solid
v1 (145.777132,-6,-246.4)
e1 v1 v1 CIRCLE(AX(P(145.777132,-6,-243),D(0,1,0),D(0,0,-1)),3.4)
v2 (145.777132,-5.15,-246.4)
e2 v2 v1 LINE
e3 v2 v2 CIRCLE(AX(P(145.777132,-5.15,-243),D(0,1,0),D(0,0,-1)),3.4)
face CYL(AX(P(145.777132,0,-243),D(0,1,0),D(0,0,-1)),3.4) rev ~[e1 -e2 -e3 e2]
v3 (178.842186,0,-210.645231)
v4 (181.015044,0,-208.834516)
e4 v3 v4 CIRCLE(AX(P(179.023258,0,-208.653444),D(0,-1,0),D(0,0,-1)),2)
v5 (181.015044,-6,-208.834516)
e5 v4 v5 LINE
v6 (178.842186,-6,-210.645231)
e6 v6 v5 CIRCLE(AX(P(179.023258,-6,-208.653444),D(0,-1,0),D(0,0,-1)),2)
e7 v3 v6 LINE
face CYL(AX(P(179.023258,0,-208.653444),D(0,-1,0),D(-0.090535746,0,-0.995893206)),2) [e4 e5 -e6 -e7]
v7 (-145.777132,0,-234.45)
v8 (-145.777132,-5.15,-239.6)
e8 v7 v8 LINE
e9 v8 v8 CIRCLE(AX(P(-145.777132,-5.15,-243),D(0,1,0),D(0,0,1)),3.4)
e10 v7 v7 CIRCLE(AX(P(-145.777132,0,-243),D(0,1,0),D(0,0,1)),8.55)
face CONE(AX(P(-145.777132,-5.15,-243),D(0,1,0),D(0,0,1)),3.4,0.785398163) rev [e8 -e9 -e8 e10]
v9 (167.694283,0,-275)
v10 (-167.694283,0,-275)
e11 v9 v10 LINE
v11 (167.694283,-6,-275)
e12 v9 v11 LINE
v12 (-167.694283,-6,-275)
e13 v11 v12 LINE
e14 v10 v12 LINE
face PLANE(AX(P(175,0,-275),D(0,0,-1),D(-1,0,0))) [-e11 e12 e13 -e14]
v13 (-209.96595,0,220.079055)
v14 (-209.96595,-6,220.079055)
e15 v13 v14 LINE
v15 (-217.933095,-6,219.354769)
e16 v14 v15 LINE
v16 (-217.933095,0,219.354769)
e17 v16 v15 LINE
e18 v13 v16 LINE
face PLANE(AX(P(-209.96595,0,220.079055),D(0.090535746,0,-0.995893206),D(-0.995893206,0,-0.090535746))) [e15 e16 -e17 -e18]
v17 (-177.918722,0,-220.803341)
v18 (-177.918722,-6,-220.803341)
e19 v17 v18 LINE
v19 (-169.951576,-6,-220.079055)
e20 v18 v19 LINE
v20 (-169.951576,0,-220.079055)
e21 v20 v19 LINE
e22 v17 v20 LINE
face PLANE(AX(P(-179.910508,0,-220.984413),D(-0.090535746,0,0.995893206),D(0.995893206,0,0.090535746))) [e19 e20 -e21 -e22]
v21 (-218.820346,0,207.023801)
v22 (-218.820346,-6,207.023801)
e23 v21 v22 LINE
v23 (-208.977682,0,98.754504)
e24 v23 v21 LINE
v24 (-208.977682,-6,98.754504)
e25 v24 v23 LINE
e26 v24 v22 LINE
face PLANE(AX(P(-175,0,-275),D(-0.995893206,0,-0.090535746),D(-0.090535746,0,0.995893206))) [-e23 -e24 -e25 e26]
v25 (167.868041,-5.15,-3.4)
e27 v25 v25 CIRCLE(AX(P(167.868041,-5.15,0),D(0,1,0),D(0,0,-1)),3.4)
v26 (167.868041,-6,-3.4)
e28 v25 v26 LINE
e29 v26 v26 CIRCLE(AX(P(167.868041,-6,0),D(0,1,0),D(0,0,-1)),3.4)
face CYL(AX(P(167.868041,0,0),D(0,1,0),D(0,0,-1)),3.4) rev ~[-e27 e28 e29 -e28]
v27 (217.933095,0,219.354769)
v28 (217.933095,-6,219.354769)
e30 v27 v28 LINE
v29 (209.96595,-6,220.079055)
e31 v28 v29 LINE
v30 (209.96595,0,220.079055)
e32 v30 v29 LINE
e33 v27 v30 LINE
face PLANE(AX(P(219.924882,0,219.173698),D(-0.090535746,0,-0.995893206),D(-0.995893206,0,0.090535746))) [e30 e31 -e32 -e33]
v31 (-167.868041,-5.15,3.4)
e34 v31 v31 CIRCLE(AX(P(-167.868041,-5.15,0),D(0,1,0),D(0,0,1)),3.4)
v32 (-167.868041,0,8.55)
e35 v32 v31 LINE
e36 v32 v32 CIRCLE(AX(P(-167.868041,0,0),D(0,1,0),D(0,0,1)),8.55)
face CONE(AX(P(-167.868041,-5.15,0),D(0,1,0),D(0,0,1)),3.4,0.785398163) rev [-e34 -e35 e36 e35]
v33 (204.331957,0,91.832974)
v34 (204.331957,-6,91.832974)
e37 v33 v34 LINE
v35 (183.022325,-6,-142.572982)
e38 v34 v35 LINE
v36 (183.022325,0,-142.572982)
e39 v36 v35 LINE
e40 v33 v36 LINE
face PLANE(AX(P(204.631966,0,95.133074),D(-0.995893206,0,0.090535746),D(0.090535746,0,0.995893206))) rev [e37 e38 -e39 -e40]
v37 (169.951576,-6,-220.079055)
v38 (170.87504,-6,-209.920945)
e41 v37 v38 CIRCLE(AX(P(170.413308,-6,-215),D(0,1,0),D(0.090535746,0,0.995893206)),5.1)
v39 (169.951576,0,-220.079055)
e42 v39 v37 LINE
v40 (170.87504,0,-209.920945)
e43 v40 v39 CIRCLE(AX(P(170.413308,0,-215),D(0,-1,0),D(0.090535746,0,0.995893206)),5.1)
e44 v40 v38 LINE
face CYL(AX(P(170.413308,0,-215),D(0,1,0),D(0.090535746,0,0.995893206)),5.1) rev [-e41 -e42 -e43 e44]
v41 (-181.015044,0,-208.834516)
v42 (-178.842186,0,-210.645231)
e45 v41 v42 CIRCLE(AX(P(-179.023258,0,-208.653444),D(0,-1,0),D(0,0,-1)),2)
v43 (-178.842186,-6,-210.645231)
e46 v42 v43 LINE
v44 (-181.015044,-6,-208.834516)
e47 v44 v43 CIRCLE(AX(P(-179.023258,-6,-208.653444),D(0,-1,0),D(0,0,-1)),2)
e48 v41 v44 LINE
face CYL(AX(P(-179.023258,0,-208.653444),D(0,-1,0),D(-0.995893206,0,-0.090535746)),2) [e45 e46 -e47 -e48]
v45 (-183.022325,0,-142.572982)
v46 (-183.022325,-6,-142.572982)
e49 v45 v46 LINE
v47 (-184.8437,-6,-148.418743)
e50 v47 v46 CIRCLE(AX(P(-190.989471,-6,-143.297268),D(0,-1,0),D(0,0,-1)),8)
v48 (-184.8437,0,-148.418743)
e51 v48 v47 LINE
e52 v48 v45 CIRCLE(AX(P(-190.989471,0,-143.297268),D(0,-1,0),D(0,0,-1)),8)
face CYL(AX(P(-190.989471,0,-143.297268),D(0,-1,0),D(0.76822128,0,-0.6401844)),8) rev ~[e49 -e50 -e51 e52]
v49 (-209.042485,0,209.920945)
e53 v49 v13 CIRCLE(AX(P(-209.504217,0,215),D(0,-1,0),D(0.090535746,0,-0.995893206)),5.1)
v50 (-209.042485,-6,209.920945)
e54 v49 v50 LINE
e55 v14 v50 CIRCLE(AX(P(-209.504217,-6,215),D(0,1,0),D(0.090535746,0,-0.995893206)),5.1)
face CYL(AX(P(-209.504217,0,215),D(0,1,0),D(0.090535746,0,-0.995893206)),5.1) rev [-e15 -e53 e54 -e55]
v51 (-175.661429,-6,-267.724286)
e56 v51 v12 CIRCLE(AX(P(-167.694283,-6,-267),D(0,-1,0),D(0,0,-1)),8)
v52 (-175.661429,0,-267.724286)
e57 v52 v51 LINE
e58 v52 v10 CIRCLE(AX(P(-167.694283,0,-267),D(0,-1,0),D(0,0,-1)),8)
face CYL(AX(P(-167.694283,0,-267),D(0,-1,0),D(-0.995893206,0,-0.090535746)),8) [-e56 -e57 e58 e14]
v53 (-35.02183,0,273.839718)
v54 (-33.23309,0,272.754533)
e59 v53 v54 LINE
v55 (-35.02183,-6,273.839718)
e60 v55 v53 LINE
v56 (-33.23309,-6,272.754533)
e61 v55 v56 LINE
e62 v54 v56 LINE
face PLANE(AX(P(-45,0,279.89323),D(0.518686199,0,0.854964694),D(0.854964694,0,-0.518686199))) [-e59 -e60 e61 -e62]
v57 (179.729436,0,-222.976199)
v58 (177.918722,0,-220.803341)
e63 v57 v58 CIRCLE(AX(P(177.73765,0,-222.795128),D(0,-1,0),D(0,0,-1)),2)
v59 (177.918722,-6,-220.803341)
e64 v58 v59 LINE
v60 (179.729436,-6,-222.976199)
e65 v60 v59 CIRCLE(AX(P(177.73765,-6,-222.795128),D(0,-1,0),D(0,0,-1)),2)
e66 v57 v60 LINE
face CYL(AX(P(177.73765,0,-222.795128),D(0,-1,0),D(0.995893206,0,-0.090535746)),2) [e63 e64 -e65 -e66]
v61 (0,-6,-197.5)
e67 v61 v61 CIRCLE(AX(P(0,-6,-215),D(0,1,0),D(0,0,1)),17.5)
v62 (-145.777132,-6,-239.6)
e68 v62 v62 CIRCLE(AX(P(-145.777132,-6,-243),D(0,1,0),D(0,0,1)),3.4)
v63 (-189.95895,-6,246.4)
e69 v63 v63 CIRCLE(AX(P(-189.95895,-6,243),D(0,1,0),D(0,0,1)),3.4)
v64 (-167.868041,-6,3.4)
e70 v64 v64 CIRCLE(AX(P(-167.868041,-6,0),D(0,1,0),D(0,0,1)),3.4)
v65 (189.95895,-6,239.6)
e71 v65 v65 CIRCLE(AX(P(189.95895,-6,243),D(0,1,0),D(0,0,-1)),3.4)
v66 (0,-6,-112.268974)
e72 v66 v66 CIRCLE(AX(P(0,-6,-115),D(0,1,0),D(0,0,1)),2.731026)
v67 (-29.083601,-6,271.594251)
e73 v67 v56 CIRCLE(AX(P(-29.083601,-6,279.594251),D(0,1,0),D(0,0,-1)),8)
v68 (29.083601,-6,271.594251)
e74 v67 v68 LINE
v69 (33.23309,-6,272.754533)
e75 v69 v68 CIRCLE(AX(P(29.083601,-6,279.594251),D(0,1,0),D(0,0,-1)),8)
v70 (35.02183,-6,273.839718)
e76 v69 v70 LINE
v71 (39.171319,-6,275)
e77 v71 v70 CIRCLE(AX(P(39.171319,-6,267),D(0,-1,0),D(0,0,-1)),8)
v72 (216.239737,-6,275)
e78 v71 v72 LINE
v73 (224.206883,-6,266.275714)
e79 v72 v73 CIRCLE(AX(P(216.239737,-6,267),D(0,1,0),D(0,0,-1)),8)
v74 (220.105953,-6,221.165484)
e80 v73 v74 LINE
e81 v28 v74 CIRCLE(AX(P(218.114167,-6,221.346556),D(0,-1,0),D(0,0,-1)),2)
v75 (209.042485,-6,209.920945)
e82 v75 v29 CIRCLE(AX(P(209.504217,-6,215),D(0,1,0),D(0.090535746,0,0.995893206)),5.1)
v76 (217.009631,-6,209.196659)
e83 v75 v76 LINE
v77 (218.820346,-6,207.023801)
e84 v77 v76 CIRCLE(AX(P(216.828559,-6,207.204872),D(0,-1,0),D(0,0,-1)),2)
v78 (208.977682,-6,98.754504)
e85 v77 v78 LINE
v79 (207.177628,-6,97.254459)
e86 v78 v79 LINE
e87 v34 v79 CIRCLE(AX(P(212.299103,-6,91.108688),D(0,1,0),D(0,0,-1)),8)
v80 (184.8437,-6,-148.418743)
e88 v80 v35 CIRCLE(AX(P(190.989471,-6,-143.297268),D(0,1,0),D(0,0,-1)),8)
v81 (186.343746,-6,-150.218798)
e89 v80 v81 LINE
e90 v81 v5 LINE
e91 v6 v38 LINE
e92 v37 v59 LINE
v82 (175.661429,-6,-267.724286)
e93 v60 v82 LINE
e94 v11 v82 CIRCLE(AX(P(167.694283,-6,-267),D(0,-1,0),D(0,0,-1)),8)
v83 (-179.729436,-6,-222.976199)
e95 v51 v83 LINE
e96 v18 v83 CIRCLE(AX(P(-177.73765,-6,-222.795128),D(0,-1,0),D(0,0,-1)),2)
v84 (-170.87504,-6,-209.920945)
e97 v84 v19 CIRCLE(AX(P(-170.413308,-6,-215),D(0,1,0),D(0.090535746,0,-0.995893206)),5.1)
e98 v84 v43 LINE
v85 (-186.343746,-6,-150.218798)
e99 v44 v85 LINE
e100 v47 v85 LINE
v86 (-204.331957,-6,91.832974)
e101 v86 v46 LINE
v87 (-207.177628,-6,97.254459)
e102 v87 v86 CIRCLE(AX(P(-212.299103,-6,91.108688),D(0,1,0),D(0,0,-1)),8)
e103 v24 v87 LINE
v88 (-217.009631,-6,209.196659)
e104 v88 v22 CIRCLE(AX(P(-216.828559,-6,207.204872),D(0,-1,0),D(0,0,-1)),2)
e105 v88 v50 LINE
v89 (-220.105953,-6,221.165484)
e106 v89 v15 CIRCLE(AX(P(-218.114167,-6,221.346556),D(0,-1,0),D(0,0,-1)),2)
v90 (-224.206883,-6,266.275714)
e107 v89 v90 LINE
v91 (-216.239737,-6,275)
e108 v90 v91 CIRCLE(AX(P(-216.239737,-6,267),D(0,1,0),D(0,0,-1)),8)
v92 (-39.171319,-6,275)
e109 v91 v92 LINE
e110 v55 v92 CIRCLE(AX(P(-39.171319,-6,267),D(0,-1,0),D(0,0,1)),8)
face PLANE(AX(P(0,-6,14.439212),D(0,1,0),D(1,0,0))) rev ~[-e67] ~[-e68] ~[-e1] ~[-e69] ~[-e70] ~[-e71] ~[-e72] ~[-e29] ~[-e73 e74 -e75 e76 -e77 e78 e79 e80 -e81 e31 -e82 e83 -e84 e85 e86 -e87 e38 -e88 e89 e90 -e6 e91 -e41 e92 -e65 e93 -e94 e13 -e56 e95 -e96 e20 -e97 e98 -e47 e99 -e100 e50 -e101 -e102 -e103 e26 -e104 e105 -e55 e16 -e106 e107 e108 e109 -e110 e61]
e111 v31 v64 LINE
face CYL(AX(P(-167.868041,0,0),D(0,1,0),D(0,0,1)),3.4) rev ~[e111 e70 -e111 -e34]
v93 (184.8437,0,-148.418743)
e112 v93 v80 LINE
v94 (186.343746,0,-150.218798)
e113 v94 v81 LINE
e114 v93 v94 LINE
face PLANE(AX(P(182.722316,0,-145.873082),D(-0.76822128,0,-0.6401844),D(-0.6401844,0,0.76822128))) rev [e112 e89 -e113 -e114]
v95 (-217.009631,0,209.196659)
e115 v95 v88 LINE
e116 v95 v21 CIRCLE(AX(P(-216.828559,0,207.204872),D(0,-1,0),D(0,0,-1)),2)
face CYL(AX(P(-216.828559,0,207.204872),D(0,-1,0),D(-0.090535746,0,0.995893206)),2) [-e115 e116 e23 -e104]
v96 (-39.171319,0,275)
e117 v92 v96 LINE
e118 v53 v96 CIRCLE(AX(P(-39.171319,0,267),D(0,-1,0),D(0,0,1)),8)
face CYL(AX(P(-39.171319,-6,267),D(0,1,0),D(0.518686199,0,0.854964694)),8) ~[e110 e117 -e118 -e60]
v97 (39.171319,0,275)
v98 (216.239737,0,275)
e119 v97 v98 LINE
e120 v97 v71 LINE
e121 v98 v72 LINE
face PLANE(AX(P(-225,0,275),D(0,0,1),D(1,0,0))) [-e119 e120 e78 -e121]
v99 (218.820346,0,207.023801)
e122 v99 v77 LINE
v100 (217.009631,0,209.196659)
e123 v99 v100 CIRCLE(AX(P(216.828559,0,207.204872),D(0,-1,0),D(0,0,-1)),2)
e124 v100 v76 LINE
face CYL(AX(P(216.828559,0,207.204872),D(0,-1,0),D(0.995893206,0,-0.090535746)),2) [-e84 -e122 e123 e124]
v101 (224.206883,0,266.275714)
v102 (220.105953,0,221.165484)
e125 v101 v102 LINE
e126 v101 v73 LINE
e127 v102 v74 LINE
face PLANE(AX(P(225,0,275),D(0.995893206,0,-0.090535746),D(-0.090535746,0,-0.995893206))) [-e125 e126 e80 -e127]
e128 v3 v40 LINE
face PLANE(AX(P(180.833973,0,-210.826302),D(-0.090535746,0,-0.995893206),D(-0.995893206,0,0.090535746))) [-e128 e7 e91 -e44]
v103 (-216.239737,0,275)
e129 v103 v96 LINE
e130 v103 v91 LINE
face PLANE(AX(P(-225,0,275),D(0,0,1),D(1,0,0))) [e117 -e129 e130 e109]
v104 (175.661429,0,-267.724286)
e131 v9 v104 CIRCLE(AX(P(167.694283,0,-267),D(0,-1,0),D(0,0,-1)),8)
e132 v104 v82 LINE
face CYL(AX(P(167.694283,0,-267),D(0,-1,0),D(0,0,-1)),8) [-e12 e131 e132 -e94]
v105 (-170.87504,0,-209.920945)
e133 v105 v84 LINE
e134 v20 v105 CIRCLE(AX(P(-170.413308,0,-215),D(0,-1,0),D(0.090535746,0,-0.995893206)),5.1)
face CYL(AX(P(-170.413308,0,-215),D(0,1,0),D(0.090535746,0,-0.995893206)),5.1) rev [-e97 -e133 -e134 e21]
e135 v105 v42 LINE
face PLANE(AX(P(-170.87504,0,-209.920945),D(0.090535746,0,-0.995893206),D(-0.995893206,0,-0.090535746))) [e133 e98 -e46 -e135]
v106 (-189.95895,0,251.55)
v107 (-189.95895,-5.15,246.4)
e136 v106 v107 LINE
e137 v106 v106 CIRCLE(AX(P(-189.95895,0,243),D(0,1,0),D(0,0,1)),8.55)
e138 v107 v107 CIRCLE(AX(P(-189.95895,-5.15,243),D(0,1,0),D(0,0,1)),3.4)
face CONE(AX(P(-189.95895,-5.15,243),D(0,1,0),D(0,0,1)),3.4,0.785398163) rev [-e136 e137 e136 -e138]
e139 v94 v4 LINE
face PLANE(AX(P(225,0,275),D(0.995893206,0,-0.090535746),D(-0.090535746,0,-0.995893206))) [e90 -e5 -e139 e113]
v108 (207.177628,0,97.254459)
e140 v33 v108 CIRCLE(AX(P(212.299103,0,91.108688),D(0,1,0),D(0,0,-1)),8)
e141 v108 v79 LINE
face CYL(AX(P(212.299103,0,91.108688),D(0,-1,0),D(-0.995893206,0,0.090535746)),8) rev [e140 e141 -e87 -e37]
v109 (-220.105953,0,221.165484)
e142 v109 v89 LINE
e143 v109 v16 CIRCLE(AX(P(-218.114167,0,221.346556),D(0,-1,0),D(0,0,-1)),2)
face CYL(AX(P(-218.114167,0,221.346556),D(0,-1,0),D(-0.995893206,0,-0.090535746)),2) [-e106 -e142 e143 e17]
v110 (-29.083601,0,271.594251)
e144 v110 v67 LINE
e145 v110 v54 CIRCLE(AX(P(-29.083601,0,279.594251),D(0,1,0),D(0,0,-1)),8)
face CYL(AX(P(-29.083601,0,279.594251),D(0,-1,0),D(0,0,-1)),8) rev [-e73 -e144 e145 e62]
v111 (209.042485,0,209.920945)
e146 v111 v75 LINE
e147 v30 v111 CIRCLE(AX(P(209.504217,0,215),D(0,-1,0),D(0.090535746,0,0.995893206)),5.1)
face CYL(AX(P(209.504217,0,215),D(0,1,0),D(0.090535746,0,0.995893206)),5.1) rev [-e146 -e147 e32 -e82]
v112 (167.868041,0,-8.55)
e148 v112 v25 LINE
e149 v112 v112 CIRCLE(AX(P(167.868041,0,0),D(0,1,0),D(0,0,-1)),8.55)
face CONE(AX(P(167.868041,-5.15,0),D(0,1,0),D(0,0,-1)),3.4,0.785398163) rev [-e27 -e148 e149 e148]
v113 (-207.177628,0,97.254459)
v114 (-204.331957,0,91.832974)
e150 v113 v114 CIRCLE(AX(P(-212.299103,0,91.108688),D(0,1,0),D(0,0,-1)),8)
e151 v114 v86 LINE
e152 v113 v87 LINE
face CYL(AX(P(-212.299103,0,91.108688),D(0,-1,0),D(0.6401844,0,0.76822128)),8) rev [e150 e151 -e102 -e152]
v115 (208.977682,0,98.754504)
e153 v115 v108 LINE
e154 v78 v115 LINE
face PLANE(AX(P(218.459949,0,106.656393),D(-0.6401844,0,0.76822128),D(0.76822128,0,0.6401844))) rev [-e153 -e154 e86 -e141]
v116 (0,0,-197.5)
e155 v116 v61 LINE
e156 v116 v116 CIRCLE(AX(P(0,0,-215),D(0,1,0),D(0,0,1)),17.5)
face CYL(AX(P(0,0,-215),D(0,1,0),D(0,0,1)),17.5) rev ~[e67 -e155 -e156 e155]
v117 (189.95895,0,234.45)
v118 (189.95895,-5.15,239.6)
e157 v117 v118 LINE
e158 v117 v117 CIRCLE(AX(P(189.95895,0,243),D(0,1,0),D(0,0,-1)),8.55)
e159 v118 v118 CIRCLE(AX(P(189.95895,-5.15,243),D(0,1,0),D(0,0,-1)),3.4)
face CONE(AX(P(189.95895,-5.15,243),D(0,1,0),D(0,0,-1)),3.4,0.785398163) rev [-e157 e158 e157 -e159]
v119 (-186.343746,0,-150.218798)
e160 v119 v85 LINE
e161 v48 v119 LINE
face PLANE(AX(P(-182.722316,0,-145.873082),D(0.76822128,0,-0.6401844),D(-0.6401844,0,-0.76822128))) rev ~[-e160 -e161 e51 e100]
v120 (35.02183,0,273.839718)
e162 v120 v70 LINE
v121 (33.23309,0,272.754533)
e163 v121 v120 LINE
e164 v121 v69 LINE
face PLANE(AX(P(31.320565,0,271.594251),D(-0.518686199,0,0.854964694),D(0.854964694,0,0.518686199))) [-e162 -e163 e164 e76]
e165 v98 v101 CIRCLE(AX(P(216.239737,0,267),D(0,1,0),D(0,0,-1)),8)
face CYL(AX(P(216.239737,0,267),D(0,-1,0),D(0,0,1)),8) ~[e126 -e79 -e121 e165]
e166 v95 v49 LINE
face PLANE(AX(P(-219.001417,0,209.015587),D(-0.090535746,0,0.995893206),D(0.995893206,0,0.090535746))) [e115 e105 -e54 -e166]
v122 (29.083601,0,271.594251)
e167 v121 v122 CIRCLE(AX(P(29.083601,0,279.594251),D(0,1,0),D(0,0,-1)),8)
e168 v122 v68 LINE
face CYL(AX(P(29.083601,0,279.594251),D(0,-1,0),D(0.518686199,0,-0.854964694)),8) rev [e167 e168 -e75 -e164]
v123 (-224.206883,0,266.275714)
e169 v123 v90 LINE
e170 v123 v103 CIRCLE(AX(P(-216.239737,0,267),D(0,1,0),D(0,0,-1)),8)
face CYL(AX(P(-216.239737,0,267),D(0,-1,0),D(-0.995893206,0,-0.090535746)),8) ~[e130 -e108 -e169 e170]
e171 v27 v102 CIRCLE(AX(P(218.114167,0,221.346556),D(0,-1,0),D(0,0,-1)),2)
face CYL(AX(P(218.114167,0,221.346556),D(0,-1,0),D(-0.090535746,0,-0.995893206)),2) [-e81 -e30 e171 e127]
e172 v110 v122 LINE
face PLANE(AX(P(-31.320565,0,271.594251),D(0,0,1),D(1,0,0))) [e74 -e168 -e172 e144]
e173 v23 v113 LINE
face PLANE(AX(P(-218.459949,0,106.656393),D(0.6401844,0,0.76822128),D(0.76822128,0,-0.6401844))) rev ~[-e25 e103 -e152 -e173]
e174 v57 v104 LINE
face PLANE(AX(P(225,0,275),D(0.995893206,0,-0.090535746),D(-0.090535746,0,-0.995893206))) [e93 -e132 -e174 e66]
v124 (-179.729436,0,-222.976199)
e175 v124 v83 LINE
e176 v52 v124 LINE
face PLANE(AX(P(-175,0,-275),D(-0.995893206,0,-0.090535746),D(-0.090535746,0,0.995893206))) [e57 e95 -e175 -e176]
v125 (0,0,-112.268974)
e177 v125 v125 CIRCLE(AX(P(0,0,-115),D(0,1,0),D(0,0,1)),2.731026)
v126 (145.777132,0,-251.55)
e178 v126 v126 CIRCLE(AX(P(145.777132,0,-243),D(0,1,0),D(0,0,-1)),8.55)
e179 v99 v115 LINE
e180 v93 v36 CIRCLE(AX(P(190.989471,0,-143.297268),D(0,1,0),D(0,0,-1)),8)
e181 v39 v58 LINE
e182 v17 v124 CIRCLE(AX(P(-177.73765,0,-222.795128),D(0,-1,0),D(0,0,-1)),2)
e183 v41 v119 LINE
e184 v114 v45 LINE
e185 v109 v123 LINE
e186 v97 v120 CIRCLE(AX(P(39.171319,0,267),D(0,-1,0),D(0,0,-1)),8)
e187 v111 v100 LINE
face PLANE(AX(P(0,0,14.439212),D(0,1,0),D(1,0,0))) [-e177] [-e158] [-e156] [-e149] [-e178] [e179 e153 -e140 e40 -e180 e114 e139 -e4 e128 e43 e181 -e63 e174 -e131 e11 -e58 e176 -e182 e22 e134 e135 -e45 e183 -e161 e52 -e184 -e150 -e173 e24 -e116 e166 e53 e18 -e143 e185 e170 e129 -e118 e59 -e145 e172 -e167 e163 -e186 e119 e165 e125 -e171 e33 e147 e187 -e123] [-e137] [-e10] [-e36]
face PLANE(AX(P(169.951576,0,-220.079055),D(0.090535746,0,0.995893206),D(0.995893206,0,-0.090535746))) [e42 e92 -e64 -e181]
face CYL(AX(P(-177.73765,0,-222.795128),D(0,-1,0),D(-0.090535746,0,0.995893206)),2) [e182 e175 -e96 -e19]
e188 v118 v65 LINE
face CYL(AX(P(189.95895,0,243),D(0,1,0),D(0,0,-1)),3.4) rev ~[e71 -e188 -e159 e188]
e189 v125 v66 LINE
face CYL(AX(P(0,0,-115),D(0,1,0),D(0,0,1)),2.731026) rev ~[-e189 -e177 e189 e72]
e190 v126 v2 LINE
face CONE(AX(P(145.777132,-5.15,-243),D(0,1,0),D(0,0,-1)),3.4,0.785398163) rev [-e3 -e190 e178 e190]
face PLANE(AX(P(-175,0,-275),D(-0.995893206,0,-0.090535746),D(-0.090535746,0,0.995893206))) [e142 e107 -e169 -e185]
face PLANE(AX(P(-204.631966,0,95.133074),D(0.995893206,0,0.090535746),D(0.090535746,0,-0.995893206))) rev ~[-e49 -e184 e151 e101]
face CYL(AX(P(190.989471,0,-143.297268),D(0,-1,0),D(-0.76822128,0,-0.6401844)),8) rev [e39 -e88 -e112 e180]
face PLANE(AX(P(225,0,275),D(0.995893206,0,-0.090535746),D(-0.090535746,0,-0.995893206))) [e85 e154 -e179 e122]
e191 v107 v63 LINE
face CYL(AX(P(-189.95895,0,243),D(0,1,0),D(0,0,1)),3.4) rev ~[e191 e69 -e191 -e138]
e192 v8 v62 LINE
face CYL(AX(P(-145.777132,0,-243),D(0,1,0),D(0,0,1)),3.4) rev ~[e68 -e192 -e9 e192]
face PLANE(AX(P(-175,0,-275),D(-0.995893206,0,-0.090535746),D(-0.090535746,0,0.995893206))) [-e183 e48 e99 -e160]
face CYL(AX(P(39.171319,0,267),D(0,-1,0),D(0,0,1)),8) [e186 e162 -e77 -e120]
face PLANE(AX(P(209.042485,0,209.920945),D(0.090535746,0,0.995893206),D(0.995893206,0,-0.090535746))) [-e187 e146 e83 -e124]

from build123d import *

# Parameters (mm, degrees)
SKETCH1_R           = 17.5
SKETCH1_R_2         = 3.4
SKETCH1_R_3         = 2.731026391
BOSS_EXTRUDE1_DEPTH = 6
FILLET1_R           = 8
CUT_EXTRUDE5_DEPTH  = 10
CUT_EXTRUDE6_DEPTH  = 10
FILLET2_R           = 8
CHAMFER1_SIZE       = 5.15
CUT_EXTRUDE7_DEPTH  = 10
FILLET3_R           = 2


with BuildPart() as part:
    # Sketch1 → Boss-Extrude1 (new body)
    with BuildSketch(Plane(origin=(0, 0, 0), x_dir=(1, 0, 0), z_dir=(0, 1, 0))):
        Polygon((-175, 275), (-225, -275), (225, -275), (175, 275), align=None)
        with Locations(Location((0, 215, 0), (0, 0, 270))):
            Circle(SKETCH1_R, mode=Mode.SUBTRACT)
        with Locations(Location((-145.777131586, 243, 0), (0, 0, 270))):
            Circle(SKETCH1_R_2, mode=Mode.SUBTRACT)
        with Locations(Location((145.777131586, 243, 0), (0, 0, 90))):
            Circle(SKETCH1_R_2, mode=Mode.SUBTRACT)
        with Locations(Location((-189.958949768, -243, 0), (0, 0, 270))):
            Circle(SKETCH1_R_2, mode=Mode.SUBTRACT)
        with Locations(Location((189.958949768, -243, 0), (0, 0, 90))):
            Circle(SKETCH1_R_2, mode=Mode.SUBTRACT)
        with Locations(Location((-167.868040677, 0, 0), (0, 0, 270))):
            Circle(SKETCH1_R_2, mode=Mode.SUBTRACT)
        with Locations(Location((167.868040677, 0, 0), (0, 0, 90))):
            Circle(SKETCH1_R_2, mode=Mode.SUBTRACT)
        with Locations(Location((0, 115, 0), (0, 0, 270))):
            Circle(SKETCH1_R_3, mode=Mode.SUBTRACT)
    extrude(amount=-BOSS_EXTRUDE1_DEPTH)

    # Fillet1
    fillet1_edges = [part.edges().sort_by_distance(p)[0] for p in [
        (175, -3, -275),
        (225, -3, 275),
        (-225, -3, 275),
        (-175, -3, -275),
    ]]
    fillet(fillet1_edges, radius=FILLET1_R)

    # Sketch6 → Cut-Extrude5 (cut)
    with BuildSketch(Plane(origin=(0, 0, 0), x_dir=(1, 0, 0), z_dir=(0, 1, 0))):
        Polygon((-204.631966366, -95.133074099), (-182.722315824, 145.873081867), (-194.245635018, 159.701064899), (-218.459949399, -106.656393293), align=None)
    cut_extrude5 = extrude(amount=-CUT_EXTRUDE5_DEPTH, mode=Mode.SUBTRACT)

    # Sketch7 → Cut-Extrude6 (cut)
    with BuildSketch(Plane(origin=(0, 0, 0), x_dir=(1, 0, 0), z_dir=(0, 1, 0))):
        Polygon((-31.320564901, -271.594250629), (31.320564901, -271.594250629), (45, -279.893229805), (-45, -279.893229805), align=None)
    extrude(amount=-CUT_EXTRUDE6_DEPTH, mode=Mode.SUBTRACT)

    # Mirror2: Cut-Extrude5 across plane
    add(cut_extrude5.mirror(Plane(origin=(0, 0, 0), x_dir=(0, 0, 1), z_dir=(1, 0, 0))), mode=Mode.SUBTRACT)

    # Fillet2
    fillet2_edges = [part.edges().sort_by_distance(p)[0] for p in [
        (36.934355042, -3, 275),
        (-36.934355042, -3, 275),
        (-31.320564901, -3, 271.594250629),
        (31.320564901, -3, 271.594250629),
        (204.631966366, -3, 95.133074099),
        (182.722315824, -3, -145.873081867),
        (-182.722315824, -3, -145.873081867),
        (-204.631966366, -3, 95.133074099),
    ]]
    fillet(fillet2_edges, radius=FILLET2_R)

    # Chamfer1
    chamfer1_edges = [part.edges().sort_by_distance(p)[0] for p in [
        (-145.777131586, 0, -246.4),
        (145.777131586, 0, -239.6),
        (-189.958949768, 0, 239.6),
        (189.958949768, 0, 246.4),
        (-167.868040677, 0, -3.4),
        (167.868040677, 0, 3.4),
    ]]
    chamfer(chamfer1_edges, length=CHAMFER1_SIZE)

    # Sketch11 → Cut-Extrude7 (cut)
    with BuildSketch(Plane(origin=(0, 0, 0), x_dir=(1, 0, 0), z_dir=(0, 1, 0))):
        with BuildLine():
            Line((-179.910507926, 220.984412813), (-169.951575861, 220.079055353))
            ThreePointArc((-169.951575861, 220.079055353), (-165.334252813, 214.538267695), (-170.875040471, 209.920944647))
            Line((-170.875040471, 209.920944647), (-180.833972536, 210.826302107))
            Line((-180.833972536, 210.826302107), (-179.910507926, 220.984412813))
        make_face()
        with BuildLine():
            Line((-219.001417017, -209.015587187), (-209.042484952, -209.920944647))
            ThreePointArc((-209.042484952, -209.920944647), (-204.425161904, -215.461732305), (-209.965949562, -220.079055353))
            Line((-209.965949562, -220.079055353), (-219.924881627, -219.173697893))
            Line((-219.924881627, -219.173697893), (-219.001417017, -209.015587187))
        make_face()
        with BuildLine():
            Line((219.001417017, -209.015587187), (219.924881627, -219.173697893))
            Line((219.924881627, -219.173697893), (209.965949562, -220.079055353))
            ThreePointArc((209.965949562, -220.079055353), (204.425161904, -215.461732305), (209.042484952, -209.920944647))
            Line((209.042484952, -209.920944647), (219.001417017, -209.015587187))
        make_face()
        with BuildLine():
            Line((179.910507926, 220.984412813), (180.833972536, 210.826302107))
            Line((180.833972536, 210.826302107), (170.875040471, 209.920944647))
            ThreePointArc((170.875040471, 209.920944647), (165.334252813, 214.538267695), (169.951575861, 220.079055353))
            Line((169.951575861, 220.079055353), (179.910507926, 220.984412813))
        make_face()
    extrude(amount=-CUT_EXTRUDE7_DEPTH, mode=Mode.SUBTRACT)

    # Fillet3
    fillet3_edges = [part.edges().sort_by_distance(p)[0] for p in [
        (-180.833972536, -3, -210.826302107),
        (-179.910507926, -3, -220.984412813),
        (-219.924881627, -3, 219.173697893),
        (-219.001417017, -3, 209.015587187),
        (179.910507926, -3, -220.984412813),
        (180.833972536, -3, -210.826302107),
        (219.001417017, -3, 209.015587187),
        (219.924881627, -3, 219.173697893),
    ]]
    fillet(fillet3_edges, radius=FILLET3_R)


solid = part.part
